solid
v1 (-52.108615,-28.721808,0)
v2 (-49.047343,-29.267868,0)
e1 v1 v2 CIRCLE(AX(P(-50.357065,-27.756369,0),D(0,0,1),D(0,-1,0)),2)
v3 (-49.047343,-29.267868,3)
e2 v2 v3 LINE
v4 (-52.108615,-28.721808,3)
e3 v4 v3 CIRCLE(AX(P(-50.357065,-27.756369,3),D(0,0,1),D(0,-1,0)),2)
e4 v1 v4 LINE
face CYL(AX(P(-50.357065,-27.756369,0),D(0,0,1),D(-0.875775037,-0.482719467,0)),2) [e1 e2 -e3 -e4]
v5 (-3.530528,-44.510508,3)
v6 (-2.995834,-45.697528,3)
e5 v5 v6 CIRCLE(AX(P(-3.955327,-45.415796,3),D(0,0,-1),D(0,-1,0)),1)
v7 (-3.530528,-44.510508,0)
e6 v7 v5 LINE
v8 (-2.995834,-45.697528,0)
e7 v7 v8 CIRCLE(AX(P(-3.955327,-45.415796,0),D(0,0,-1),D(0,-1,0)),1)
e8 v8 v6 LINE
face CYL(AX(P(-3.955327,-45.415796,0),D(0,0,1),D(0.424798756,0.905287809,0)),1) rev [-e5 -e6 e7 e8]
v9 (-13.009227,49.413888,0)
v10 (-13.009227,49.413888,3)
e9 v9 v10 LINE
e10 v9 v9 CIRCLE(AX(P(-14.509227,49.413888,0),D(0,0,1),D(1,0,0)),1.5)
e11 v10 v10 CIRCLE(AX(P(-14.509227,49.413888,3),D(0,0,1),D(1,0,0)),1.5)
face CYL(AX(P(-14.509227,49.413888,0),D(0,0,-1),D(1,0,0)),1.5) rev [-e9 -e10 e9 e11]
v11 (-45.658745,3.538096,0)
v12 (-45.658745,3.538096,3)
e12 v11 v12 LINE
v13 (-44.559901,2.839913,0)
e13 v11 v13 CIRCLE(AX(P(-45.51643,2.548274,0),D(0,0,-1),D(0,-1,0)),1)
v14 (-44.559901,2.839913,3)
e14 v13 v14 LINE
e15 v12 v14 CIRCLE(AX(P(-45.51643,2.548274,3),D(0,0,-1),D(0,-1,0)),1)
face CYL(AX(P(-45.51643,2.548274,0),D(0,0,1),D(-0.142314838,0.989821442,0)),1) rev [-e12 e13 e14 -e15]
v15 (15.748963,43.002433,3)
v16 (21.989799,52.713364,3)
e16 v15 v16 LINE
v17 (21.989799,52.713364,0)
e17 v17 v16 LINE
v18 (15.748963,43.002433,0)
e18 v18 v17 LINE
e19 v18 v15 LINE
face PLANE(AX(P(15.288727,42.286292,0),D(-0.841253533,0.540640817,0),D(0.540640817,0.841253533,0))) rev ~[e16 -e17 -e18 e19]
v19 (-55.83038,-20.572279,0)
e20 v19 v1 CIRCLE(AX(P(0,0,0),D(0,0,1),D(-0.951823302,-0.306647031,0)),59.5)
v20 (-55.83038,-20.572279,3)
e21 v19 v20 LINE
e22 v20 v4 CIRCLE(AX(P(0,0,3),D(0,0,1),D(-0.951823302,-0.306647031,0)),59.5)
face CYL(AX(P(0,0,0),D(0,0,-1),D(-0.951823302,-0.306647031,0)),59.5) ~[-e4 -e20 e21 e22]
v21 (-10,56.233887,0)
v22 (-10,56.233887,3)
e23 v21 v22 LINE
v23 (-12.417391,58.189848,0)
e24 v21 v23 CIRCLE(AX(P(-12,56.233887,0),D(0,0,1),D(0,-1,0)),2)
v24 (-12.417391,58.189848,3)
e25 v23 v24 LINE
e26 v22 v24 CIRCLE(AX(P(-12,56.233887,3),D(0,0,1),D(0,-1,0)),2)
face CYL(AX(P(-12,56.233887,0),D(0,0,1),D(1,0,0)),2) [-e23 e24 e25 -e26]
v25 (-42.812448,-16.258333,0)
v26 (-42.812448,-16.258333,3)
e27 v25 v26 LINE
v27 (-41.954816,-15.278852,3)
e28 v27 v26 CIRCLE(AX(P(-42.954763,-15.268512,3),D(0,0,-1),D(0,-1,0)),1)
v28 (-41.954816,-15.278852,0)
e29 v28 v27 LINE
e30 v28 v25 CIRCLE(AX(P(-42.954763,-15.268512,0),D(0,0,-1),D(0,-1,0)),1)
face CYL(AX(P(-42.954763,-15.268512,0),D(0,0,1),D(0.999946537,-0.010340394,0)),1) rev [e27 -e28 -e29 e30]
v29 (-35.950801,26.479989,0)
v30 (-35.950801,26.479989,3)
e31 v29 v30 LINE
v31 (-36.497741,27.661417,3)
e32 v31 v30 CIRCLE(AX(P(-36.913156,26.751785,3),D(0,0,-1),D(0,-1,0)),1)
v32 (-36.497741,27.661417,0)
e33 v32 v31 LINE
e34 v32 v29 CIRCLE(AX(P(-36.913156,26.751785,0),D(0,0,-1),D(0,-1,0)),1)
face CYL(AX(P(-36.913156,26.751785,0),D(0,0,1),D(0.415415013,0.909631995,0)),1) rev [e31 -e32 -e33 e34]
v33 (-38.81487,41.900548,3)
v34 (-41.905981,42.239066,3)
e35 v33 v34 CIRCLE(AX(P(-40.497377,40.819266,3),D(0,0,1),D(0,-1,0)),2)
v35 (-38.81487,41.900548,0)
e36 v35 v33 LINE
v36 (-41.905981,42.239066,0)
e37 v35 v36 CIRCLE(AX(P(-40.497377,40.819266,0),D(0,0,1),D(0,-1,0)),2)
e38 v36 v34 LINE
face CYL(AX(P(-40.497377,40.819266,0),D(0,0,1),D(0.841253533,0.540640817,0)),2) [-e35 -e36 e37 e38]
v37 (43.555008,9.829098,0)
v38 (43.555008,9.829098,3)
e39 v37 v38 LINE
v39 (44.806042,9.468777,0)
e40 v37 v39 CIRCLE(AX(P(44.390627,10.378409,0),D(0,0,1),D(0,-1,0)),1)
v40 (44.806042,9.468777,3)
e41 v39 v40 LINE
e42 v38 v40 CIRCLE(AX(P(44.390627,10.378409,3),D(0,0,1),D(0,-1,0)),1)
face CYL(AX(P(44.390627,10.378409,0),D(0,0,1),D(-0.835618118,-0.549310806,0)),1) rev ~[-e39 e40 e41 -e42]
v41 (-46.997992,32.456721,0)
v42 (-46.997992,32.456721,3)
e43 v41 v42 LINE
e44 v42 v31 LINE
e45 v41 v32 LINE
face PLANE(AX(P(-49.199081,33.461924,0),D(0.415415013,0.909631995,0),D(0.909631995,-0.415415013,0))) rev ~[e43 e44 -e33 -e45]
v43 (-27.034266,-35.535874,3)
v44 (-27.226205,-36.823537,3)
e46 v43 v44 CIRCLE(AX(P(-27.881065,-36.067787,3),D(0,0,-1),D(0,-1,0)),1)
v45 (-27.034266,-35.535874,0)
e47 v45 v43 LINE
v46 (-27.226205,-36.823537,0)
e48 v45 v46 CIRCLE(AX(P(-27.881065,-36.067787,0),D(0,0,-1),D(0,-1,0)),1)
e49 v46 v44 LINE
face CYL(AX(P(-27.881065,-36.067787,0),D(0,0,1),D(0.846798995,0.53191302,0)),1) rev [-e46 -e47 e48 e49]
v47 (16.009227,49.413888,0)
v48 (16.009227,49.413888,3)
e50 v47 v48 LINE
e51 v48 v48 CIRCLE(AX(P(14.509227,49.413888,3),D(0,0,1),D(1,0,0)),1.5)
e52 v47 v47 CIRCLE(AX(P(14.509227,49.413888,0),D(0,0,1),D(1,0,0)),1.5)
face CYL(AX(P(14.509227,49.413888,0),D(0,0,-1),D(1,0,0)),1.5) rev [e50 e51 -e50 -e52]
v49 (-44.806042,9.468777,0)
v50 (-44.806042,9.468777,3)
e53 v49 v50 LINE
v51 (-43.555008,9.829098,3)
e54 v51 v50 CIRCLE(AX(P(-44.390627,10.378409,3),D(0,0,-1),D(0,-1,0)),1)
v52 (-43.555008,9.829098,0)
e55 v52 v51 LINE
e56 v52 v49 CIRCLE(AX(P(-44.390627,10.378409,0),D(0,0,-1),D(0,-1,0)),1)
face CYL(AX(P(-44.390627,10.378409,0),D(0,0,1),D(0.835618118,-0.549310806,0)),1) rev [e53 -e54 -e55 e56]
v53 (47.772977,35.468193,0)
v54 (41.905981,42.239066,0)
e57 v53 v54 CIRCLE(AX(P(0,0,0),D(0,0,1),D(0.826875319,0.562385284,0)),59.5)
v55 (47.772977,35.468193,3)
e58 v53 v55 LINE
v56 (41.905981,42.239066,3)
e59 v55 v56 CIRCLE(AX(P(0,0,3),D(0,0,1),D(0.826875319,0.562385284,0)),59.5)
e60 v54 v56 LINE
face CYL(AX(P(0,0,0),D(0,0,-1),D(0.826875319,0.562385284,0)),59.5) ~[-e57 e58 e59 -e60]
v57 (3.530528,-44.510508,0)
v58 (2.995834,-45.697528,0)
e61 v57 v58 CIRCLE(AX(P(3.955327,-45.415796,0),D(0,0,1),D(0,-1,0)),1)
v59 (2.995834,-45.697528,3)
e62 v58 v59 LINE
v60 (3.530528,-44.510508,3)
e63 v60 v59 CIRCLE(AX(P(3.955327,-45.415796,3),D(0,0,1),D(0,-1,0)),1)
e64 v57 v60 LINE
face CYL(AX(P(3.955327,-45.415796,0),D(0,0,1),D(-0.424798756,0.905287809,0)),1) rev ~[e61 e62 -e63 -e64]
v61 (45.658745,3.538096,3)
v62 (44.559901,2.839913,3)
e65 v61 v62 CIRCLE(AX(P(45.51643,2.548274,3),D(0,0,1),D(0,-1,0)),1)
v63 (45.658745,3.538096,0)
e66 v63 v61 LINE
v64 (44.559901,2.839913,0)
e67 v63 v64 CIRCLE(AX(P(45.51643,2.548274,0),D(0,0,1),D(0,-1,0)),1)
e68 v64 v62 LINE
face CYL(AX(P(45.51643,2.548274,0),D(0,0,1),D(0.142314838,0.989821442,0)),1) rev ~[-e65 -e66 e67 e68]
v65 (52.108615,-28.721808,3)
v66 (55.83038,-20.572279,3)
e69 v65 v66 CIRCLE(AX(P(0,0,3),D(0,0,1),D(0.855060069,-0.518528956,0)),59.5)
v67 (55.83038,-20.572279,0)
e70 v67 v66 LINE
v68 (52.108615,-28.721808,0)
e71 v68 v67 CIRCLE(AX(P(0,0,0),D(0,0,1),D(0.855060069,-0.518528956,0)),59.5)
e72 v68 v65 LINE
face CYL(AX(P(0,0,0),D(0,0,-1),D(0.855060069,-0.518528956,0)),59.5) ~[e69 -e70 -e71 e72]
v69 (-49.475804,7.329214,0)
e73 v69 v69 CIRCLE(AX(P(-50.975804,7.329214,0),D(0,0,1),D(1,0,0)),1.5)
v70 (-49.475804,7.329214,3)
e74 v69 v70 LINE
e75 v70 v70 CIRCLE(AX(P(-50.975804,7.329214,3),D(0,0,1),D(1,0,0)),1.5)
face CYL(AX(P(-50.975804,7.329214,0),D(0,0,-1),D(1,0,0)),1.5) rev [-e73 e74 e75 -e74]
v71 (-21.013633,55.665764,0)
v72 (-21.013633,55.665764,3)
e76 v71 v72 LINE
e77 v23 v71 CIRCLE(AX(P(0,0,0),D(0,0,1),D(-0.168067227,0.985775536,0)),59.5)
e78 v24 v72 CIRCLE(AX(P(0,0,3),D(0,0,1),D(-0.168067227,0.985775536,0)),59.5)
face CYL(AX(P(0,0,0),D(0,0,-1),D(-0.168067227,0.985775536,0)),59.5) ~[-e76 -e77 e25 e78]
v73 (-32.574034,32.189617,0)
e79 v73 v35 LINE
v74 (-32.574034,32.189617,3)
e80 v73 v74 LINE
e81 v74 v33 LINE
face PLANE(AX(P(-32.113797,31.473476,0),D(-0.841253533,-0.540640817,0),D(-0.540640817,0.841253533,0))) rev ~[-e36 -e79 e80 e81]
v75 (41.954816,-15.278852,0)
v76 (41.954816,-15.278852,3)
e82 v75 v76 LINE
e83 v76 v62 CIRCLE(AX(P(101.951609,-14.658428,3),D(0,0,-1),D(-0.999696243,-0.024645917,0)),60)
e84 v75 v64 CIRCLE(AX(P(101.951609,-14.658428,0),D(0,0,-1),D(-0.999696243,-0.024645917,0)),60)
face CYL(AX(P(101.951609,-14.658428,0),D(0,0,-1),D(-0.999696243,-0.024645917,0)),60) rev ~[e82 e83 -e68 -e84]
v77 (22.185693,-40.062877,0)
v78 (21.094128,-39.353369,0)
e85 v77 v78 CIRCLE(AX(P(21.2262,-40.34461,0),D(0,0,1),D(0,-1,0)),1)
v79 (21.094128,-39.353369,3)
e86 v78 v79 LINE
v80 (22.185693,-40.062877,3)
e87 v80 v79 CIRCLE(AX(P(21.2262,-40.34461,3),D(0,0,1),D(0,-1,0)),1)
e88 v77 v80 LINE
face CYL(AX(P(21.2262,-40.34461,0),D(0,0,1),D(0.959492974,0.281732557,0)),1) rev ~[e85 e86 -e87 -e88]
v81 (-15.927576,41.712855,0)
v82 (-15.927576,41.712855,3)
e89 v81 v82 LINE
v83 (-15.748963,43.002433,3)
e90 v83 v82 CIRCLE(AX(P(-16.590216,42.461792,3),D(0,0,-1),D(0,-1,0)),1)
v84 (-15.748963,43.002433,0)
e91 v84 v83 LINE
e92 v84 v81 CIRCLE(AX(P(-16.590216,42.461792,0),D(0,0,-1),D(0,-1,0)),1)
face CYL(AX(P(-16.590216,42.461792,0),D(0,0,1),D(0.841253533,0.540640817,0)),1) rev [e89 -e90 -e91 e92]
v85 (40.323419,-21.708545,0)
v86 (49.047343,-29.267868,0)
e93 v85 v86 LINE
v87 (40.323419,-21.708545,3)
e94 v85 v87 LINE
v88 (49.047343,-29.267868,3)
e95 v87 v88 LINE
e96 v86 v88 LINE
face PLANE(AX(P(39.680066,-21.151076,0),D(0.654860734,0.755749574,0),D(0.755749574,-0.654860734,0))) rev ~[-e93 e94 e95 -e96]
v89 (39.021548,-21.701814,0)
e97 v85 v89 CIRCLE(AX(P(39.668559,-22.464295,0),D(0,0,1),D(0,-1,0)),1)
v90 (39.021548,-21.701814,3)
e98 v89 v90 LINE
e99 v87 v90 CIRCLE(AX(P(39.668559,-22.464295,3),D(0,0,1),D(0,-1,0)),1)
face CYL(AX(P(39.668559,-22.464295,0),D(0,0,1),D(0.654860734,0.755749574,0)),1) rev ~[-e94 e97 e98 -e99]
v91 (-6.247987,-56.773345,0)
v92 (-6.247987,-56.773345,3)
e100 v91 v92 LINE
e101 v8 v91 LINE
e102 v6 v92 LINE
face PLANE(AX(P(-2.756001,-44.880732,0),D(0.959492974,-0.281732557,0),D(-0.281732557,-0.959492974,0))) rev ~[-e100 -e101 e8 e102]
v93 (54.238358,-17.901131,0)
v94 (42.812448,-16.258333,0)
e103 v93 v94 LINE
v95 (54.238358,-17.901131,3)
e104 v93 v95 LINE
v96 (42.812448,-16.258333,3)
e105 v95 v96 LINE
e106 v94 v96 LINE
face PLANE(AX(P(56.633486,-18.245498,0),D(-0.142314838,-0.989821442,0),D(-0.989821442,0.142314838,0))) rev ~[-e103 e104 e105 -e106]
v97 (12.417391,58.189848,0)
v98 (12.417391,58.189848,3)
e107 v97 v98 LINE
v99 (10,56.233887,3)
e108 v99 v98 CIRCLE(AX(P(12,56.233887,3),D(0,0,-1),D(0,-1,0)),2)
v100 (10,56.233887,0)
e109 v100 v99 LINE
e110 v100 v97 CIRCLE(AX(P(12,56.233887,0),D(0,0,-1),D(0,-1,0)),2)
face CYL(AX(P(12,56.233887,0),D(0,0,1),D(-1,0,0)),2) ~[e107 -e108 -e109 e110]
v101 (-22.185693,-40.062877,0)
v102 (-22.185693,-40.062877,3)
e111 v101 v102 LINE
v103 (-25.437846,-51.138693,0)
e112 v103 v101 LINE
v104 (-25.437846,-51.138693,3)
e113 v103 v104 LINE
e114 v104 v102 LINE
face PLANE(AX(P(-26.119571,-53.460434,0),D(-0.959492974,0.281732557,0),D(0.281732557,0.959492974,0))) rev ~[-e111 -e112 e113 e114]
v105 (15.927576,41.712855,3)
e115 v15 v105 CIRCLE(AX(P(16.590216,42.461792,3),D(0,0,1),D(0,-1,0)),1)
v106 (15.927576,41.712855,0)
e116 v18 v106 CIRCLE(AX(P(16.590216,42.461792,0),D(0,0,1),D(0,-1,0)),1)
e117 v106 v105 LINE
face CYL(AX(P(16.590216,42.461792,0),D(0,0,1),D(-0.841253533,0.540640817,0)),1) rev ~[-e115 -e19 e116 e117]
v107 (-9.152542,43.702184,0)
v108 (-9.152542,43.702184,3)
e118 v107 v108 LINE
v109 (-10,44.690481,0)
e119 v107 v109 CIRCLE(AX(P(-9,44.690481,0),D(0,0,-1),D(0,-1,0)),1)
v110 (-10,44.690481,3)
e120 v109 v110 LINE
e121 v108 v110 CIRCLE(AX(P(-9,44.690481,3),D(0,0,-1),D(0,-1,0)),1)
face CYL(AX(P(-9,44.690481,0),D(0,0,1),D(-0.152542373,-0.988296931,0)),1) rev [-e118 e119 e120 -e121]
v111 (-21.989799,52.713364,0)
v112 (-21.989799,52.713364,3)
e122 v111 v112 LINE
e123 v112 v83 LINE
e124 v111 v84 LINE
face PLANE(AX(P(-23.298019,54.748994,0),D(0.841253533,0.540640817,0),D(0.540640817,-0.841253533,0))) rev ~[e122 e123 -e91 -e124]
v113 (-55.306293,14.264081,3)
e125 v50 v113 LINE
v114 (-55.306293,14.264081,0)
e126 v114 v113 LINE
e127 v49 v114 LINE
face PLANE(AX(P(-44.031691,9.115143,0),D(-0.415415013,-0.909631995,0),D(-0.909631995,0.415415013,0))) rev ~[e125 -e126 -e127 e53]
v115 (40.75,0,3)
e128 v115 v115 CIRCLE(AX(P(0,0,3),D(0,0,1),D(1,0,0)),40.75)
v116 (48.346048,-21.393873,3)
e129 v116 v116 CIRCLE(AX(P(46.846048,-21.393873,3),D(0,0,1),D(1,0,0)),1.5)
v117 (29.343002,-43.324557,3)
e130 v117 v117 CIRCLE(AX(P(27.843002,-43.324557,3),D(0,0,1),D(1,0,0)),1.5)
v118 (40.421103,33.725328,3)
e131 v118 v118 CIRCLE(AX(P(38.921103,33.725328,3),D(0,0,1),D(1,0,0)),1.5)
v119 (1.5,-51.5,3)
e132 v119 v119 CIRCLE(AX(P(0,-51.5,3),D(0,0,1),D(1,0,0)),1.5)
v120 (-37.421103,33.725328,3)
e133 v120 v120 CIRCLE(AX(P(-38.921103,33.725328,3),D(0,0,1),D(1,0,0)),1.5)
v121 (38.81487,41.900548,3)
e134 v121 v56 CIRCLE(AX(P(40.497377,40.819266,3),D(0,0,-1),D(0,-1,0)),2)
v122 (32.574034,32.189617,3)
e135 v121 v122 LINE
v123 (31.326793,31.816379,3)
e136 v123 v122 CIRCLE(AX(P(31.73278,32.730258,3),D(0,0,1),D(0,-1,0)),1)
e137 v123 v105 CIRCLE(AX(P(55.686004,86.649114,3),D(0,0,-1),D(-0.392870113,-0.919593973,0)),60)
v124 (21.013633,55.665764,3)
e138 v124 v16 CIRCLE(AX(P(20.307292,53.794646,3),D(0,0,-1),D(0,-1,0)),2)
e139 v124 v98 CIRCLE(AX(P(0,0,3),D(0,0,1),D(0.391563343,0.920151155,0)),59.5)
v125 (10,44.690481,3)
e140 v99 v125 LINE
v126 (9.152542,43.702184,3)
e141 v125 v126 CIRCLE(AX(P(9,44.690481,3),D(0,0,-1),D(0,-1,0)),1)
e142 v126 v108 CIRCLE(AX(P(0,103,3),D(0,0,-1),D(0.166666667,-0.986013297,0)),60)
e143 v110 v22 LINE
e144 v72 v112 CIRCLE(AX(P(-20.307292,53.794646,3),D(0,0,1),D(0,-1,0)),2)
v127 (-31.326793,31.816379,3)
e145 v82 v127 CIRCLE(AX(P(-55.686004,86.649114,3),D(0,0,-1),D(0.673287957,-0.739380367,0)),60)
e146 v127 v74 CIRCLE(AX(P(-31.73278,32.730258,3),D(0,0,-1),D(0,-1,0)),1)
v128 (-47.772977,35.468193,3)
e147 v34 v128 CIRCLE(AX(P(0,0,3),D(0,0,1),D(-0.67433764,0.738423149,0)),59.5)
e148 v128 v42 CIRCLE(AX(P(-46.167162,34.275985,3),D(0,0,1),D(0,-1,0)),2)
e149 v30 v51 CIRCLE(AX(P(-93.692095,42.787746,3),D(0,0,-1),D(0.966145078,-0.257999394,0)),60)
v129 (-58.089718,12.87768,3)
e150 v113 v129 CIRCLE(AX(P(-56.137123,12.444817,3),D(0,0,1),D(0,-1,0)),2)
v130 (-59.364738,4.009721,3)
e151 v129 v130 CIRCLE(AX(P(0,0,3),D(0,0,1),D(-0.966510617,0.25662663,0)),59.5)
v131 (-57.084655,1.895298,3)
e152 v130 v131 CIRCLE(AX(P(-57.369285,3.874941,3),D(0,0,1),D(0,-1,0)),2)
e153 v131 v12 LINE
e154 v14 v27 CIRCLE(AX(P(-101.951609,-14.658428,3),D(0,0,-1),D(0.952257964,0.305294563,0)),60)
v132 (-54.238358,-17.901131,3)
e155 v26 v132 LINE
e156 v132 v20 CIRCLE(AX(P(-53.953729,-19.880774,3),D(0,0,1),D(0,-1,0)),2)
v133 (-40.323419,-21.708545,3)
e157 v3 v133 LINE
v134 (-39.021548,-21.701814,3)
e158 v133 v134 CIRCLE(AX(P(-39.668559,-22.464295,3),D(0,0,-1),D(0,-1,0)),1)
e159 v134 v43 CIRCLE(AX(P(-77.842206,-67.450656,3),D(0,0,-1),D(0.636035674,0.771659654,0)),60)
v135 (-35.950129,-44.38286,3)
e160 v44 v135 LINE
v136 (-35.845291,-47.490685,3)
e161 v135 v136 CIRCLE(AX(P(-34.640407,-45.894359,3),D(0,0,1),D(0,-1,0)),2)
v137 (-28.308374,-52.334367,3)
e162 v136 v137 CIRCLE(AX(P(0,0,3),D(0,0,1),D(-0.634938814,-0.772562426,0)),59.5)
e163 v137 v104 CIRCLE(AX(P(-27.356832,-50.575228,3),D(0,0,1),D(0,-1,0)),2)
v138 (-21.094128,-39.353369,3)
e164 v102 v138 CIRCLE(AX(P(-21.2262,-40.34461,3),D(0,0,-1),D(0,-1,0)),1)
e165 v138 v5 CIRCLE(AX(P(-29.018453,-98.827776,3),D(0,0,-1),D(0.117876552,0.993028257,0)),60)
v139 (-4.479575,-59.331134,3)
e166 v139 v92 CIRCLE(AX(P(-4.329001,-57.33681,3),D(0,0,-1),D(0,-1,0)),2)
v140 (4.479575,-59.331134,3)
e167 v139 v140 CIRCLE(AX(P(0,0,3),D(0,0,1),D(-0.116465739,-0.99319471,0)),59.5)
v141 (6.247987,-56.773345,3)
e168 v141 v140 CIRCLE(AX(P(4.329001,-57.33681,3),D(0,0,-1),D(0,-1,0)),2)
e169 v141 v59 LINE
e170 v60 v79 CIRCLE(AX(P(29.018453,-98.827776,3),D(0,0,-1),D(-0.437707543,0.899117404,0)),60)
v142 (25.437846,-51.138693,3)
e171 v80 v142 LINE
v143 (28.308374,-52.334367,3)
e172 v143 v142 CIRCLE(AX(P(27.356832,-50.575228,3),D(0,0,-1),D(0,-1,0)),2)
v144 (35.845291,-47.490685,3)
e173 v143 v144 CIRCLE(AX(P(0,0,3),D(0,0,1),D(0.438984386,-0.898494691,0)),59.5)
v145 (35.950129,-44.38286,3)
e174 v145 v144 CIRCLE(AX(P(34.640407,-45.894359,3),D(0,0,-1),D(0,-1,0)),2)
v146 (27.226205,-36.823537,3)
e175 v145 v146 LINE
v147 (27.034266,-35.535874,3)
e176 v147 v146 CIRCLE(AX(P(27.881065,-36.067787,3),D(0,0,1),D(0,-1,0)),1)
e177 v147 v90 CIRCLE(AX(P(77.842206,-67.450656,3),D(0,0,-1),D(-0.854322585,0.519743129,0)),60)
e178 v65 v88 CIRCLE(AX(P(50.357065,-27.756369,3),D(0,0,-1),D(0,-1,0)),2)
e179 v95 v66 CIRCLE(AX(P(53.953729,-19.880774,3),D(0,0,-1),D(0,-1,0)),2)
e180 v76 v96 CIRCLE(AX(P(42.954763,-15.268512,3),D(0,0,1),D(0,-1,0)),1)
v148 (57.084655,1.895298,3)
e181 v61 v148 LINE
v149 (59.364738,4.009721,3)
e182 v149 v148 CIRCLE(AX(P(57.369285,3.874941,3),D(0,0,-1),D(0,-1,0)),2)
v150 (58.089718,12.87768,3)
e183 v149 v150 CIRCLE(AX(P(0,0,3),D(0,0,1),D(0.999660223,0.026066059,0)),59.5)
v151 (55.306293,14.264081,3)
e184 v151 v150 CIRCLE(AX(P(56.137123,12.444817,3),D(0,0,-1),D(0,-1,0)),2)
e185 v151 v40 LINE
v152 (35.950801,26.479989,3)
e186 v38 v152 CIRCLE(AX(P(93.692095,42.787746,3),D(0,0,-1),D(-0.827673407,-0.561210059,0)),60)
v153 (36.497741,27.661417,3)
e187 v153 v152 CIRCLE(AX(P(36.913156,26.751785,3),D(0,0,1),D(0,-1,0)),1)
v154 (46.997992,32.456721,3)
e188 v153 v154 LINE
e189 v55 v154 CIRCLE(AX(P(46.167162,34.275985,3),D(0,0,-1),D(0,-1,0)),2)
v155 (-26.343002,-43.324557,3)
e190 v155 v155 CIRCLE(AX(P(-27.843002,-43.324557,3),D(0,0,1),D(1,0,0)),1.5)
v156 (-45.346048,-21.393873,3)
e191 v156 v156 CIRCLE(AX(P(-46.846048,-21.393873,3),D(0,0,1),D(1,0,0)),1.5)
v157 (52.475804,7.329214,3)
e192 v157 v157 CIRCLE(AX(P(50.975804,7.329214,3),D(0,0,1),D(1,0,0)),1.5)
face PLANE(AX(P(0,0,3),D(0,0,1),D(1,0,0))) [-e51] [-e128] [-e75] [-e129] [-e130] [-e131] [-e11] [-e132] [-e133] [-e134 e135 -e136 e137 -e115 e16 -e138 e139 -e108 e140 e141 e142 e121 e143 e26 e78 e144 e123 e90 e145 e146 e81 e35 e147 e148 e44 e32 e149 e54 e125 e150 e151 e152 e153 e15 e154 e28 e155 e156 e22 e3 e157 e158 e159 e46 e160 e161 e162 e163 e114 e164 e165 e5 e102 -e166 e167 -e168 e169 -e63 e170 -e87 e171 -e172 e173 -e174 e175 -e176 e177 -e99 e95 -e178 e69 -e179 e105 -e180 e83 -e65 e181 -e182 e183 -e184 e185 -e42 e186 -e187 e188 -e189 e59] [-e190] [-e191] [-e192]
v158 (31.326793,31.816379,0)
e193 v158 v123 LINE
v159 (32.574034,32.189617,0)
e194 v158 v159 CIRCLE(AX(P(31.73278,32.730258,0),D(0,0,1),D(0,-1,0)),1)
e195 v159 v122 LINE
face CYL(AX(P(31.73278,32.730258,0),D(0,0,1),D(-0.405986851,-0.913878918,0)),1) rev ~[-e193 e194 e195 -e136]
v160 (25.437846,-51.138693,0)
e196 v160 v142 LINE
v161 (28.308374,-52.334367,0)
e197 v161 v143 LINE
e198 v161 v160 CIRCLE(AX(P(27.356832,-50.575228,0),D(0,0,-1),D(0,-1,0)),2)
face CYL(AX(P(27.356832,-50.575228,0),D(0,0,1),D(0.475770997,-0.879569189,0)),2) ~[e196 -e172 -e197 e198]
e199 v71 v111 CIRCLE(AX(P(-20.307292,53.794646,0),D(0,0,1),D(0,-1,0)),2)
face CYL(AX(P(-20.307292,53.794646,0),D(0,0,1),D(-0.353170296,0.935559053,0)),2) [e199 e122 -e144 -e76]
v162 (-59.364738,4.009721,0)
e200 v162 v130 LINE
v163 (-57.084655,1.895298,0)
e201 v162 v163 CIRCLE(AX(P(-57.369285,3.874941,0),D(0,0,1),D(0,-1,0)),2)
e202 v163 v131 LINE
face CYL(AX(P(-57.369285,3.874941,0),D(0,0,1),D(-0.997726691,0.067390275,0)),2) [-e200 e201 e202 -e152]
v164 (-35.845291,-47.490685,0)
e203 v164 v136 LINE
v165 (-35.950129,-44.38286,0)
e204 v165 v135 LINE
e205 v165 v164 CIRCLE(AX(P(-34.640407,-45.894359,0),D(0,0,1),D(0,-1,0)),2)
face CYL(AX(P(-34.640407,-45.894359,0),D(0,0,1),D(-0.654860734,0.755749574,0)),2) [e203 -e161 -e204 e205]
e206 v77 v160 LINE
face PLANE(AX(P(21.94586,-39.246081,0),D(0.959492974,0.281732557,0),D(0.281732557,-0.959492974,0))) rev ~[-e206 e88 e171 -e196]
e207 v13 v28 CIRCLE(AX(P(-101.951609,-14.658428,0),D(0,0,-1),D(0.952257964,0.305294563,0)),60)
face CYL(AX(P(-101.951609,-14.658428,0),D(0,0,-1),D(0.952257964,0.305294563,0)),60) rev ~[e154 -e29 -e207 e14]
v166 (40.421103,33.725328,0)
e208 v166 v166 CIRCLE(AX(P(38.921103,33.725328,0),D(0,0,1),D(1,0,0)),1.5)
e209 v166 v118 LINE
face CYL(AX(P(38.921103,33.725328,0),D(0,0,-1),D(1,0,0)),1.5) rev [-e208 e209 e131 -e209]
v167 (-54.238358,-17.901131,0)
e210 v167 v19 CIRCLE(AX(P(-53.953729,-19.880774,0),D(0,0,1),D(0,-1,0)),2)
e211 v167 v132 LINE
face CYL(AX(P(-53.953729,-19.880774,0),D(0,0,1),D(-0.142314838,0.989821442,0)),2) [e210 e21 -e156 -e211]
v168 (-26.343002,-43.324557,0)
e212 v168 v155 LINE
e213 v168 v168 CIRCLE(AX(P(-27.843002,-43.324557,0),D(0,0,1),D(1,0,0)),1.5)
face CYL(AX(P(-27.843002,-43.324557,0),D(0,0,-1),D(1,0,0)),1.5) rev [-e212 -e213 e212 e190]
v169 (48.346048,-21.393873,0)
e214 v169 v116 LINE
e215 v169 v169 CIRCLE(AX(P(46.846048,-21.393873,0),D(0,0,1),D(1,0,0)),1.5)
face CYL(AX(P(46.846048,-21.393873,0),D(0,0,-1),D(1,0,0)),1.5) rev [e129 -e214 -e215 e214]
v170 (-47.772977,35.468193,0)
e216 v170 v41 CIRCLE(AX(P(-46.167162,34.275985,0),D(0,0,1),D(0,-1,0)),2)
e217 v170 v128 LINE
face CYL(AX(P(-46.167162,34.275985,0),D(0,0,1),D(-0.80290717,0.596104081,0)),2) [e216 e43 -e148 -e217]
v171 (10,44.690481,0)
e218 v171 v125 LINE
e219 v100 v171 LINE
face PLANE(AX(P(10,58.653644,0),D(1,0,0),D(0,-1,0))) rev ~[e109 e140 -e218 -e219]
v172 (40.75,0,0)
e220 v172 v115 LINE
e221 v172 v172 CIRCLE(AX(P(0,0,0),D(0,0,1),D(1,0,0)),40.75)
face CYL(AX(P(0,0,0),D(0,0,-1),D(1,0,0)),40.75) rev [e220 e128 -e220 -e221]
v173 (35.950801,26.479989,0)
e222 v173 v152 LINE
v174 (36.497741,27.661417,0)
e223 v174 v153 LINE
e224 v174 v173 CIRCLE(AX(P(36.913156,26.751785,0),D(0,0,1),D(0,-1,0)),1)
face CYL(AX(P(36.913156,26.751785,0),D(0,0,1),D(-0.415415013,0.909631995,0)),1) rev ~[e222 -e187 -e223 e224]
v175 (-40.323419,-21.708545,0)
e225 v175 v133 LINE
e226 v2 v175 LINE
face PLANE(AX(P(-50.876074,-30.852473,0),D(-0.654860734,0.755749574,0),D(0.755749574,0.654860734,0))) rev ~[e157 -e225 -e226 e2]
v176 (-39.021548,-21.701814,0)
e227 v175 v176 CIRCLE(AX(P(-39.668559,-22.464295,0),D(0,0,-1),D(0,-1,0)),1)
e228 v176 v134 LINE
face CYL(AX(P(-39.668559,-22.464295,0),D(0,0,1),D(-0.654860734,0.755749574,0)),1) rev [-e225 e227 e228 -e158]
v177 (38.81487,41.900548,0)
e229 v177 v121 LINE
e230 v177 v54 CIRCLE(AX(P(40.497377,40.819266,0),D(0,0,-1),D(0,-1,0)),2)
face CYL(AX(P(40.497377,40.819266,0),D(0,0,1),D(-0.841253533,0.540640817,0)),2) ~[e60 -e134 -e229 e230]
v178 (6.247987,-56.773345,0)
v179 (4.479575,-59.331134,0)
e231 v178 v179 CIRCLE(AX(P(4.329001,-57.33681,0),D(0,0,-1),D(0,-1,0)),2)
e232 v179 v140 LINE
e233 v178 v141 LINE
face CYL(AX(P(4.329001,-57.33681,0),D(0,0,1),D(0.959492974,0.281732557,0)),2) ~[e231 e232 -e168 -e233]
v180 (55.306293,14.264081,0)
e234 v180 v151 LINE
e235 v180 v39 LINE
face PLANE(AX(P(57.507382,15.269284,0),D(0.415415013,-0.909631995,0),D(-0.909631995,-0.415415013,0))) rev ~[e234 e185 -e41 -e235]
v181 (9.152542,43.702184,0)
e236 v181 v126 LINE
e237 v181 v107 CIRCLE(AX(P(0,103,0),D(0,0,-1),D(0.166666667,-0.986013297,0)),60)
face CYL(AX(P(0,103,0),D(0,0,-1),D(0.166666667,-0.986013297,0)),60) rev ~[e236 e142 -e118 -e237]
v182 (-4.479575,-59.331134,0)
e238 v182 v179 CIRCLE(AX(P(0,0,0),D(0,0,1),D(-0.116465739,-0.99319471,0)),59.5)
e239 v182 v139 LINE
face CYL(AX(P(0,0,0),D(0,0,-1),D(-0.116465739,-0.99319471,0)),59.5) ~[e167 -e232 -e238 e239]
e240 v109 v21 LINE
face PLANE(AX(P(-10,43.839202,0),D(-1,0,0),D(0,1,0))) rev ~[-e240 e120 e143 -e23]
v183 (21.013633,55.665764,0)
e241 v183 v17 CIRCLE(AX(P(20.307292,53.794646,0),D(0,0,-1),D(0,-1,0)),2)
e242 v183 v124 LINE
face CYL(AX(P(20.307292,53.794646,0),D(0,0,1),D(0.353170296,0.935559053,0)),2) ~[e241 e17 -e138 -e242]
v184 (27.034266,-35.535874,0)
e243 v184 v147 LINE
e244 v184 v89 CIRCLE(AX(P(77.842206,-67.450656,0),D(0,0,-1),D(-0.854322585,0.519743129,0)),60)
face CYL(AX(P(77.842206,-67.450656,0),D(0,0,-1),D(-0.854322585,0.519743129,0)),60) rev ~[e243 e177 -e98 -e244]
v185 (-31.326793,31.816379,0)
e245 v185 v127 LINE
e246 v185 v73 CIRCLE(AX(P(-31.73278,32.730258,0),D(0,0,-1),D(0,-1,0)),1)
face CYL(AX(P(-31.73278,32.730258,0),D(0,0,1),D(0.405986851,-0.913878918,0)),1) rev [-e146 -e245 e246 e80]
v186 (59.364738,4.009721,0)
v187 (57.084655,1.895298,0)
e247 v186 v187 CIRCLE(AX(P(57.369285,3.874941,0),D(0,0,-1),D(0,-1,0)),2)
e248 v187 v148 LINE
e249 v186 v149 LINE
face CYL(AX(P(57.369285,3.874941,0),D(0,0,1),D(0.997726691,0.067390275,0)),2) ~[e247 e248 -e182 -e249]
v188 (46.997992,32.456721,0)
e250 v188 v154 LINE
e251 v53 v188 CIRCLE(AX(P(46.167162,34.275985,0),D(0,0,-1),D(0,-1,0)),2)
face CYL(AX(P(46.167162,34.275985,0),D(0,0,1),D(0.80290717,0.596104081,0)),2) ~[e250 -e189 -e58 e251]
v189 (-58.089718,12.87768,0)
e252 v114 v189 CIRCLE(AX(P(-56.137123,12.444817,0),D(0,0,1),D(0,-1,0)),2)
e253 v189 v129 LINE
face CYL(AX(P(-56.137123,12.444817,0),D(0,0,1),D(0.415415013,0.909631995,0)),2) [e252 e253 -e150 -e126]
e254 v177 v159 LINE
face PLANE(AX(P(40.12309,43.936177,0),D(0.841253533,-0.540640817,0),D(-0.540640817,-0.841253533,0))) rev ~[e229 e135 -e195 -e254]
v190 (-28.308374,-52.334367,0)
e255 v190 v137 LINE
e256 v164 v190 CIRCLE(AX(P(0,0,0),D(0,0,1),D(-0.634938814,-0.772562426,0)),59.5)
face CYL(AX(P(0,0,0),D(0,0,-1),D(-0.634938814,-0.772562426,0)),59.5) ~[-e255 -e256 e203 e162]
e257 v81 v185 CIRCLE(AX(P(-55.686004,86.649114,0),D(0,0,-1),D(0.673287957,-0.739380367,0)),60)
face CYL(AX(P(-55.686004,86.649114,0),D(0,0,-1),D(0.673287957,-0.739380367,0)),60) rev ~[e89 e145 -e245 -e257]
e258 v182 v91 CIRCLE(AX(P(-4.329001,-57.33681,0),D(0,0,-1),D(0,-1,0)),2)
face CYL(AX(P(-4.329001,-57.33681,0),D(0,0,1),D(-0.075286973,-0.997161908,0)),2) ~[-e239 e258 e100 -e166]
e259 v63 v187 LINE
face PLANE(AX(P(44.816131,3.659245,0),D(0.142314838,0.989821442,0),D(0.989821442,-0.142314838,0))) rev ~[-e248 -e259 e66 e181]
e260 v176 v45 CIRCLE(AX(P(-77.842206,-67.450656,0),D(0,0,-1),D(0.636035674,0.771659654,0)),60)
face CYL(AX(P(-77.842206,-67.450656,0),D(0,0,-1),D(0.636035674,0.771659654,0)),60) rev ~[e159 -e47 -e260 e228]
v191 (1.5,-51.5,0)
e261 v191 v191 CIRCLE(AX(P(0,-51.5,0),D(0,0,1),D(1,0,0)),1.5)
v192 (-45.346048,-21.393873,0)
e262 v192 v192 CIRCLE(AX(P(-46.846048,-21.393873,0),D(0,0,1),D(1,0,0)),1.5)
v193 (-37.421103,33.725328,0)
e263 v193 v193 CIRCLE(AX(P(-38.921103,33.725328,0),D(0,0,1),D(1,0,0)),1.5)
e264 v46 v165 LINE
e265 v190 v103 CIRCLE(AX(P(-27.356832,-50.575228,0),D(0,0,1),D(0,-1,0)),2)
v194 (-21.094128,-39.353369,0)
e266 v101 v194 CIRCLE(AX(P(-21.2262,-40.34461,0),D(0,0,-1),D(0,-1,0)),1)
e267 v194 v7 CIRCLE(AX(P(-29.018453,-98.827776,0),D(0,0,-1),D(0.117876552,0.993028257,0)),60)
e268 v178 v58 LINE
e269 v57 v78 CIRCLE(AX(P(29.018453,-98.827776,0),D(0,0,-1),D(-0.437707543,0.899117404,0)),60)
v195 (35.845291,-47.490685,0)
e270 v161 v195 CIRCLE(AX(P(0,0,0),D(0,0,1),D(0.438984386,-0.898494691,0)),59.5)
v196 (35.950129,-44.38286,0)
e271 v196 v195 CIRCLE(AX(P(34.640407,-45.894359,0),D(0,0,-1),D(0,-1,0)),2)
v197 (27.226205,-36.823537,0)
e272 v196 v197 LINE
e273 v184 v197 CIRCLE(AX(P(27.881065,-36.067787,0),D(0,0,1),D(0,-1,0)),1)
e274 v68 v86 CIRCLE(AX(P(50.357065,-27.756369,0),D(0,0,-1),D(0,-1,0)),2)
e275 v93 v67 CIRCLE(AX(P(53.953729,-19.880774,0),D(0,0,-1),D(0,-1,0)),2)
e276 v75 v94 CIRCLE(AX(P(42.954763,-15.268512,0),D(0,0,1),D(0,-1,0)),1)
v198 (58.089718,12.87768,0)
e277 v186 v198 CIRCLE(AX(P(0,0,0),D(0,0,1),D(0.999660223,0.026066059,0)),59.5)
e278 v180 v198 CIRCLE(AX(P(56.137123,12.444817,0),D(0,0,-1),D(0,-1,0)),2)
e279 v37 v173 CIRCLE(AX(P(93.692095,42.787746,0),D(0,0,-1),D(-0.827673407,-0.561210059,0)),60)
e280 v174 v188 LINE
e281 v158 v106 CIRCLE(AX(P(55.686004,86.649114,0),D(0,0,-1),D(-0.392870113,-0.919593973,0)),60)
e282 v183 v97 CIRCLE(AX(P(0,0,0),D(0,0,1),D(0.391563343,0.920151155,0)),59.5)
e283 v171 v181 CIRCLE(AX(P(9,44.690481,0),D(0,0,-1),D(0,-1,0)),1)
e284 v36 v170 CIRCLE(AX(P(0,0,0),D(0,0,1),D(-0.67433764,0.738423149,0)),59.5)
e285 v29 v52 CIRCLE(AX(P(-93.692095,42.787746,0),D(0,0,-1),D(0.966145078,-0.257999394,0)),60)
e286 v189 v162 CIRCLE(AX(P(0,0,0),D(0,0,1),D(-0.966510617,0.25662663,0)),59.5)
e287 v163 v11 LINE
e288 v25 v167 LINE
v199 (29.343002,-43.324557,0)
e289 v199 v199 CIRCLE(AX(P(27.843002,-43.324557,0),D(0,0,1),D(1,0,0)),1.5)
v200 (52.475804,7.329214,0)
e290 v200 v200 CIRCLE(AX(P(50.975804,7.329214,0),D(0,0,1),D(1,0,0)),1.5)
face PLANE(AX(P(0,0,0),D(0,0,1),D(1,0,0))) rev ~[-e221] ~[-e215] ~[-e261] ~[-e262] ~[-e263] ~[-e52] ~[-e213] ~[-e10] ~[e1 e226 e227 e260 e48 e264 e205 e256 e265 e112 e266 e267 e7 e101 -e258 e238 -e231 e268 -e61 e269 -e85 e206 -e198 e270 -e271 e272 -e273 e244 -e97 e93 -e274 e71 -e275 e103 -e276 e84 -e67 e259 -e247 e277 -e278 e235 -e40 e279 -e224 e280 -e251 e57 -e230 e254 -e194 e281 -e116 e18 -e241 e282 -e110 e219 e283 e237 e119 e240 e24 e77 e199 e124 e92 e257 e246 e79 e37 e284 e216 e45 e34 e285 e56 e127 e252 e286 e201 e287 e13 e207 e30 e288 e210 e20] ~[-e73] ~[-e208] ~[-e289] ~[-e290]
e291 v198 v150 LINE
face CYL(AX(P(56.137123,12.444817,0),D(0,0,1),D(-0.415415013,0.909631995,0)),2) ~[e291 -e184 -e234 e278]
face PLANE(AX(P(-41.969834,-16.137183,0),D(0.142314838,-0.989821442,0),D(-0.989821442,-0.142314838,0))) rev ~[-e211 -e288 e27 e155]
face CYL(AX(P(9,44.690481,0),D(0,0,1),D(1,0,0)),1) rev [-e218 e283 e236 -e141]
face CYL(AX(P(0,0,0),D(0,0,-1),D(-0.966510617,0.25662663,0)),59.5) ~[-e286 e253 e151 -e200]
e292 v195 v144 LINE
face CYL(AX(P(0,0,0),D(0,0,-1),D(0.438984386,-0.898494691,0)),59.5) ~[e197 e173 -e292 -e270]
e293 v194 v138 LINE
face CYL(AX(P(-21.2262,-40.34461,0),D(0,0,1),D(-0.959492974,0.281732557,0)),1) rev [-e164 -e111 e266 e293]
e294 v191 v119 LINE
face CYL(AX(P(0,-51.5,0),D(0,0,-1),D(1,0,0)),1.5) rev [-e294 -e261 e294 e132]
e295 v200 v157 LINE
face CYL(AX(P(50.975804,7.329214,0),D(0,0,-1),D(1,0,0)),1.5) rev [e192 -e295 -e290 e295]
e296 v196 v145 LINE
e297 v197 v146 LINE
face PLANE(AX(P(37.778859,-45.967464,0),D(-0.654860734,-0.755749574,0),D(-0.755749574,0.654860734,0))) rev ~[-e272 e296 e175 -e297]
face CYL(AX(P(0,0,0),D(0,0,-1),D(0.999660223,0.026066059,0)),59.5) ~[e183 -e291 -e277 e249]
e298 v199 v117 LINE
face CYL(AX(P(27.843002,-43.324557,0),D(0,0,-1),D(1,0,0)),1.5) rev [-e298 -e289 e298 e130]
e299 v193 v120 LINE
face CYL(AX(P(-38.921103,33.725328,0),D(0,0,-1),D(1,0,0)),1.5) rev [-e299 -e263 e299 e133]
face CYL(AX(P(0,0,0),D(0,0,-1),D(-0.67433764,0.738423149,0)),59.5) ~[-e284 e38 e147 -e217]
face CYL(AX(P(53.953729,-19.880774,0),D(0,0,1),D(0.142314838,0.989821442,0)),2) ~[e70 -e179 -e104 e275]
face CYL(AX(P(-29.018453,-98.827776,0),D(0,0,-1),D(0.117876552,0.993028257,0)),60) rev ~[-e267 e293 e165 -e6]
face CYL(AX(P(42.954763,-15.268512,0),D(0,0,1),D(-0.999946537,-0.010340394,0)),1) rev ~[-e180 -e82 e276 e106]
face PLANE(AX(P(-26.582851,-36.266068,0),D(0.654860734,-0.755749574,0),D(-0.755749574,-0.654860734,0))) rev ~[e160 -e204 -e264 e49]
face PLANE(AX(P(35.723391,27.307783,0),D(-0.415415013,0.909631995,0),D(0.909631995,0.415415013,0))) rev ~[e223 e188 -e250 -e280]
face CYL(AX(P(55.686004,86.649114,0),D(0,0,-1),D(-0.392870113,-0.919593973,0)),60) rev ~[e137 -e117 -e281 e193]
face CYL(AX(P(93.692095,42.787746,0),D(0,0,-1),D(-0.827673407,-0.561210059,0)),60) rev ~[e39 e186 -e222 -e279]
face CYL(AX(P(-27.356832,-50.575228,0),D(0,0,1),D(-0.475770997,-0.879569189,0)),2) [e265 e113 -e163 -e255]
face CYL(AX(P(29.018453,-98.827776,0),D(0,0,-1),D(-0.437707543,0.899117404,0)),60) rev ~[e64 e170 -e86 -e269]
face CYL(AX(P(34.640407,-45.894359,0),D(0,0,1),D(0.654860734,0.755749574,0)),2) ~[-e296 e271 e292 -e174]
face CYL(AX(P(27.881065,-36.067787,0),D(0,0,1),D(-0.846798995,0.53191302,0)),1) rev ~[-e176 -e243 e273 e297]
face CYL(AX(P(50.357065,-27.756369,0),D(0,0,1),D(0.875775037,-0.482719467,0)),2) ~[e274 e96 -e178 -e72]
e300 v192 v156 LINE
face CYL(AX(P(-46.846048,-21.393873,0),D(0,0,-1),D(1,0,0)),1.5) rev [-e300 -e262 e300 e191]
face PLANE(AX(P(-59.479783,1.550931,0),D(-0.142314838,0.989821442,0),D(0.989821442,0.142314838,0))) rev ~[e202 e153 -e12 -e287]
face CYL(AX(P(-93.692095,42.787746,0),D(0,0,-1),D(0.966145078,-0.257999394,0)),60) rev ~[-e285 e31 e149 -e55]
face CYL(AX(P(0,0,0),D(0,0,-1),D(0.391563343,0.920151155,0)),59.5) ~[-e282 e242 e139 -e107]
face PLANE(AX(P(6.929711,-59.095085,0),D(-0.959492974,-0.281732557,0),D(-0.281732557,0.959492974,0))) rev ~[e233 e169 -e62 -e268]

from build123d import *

# Parameters (mm, degrees)
SKETCH_2_R      = 40.75
SKETCH_2_R_2    = 1.5
EXTRUDE_1_DEPTH = 3
FILLET_1_R      = 1
FILLET_2_R      = 2


with BuildPart() as part:
    # 草图2 → 凸台-拉伸1 (new body)
    with BuildSketch(Plane.XY):
        with BuildLine():
            Line((10, 58.653644388), (10, 43.839202169))
            ThreePointArc((10, 43.839202169), (0, 43), (-10, 43.839202169))
            Line((-10, 43.839202169), (-10, 58.653644388))
            ThreePointArc((-10, 58.653644388), (-16.763087132, 57.08983193), (-23.29801892, 54.748993729))
            Line((-23.29801892, 54.748993729), (-15.288726769, 42.286291876))
            ThreePointArc((-15.288726769, 42.286291876), (-23.247555151, 36.173901912), (-32.113797426, 31.473475527))
            Line((-32.113797426, 31.473475527), (-40.123089577, 43.93617738))
            ThreePointArc((-40.123089577, 43.93617738), (-44.967099674, 38.96421367), (-49.199081449, 33.4619244))
            Line((-49.199081449, 33.4619244), (-35.723390814, 27.307782693))
            ThreePointArc((-35.723390814, 27.307782693), (-39.1141758, 17.862845559), (-44.031691074, 9.115142785))
            Line((-44.031691074, 9.115142785), (-57.50738171, 15.269284493))
            ThreePointArc((-57.50738171, 15.269284493), (-58.894375792, 8.467732877), (-59.479783242, 1.550930504))
            Line((-59.479783242, 1.550930504), (-44.816130685, 3.659245452))
            ThreePointArc((-44.816130685, 3.659245452), (-42.562322001, -6.119538046), (-41.969833919, -16.137183386))
            Line((-41.969833919, -16.137183386), (-56.633486477, -18.245498334))
            ThreePointArc((-56.633486477, -18.245498334), (-54.123103724, -24.717193274), (-50.87607412, -30.852472869))
            Line((-50.87607412, -30.852472869), (-39.680065719, -21.151076364))
            ThreePointArc((-39.680065719, -21.151076364), (-32.497231697, -28.15901156), (-26.58285104, -36.266067852))
            Line((-26.58285104, -36.266067852), (-37.778859441, -45.967464356))
            ThreePointArc((-37.778859441, -45.967464356), (-32.168128639, -50.054585203), (-26.119570938, -53.460434099))
            Line((-26.119570938, -53.460434099), (-21.945860253, -39.246080882))
            ThreePointArc((-21.945860253, -39.246080882), (-12.114499944, -41.258197865), (-2.756000781, -44.880732018))
            Line((-2.756000781, -44.880732018), (-6.929711465, -59.095085236))
            ThreePointArc((-6.929711465, -59.095085236), (0, -59.5), (6.929711465, -59.095085236))
            Line((6.929711465, -59.095085236), (2.756000781, -44.880732018))
            ThreePointArc((2.756000781, -44.880732018), (12.114499944, -41.258197865), (21.945860253, -39.246080882))
            Line((21.945860253, -39.246080882), (26.119570938, -53.460434099))
            ThreePointArc((26.119570938, -53.460434099), (32.168128639, -50.054585203), (37.778859441, -45.967464356))
            Line((37.778859441, -45.967464356), (26.58285104, -36.266067852))
            ThreePointArc((26.58285104, -36.266067852), (32.497231697, -28.15901156), (39.680065719, -21.151076364))
            Line((39.680065719, -21.151076364), (50.87607412, -30.852472869))
            ThreePointArc((50.87607412, -30.852472869), (54.123103724, -24.717193274), (56.633486477, -18.245498334))
            Line((56.633486477, -18.245498334), (41.969833919, -16.137183386))
            ThreePointArc((41.969833919, -16.137183386), (42.562322001, -6.119538046), (44.816130685, 3.659245452))
            Line((44.816130685, 3.659245452), (59.479783242, 1.550930504))
            ThreePointArc((59.479783242, 1.550930504), (58.894375792, 8.467732877), (57.50738171, 15.269284493))
            Line((57.50738171, 15.269284493), (44.031691074, 9.115142785))
            ThreePointArc((44.031691074, 9.115142785), (39.1141758, 17.862845559), (35.723390814, 27.307782693))
            Line((35.723390814, 27.307782693), (49.199081449, 33.4619244))
            ThreePointArc((49.199081449, 33.4619244), (44.967099674, 38.96421367), (40.123089577, 43.93617738))
            Line((40.123089577, 43.93617738), (32.113797426, 31.473475527))
            ThreePointArc((32.113797426, 31.473475527), (23.247555151, 36.173901912), (15.288726769, 42.286291876))
            Line((15.288726769, 42.286291876), (23.29801892, 54.748993729))
            ThreePointArc((23.29801892, 54.748993729), (16.763087132, 57.08983193), (10, 58.653644388))
        make_face()
        Circle(SKETCH_2_R, mode=Mode.SUBTRACT)
        with Locations((0, -51.5)):
            Circle(SKETCH_2_R_2, mode=Mode.SUBTRACT)
        with Locations((-27.843002099, -43.324556941)):
            Circle(SKETCH_2_R_2, mode=Mode.SUBTRACT)
        with Locations((-46.846047761, -21.39387317)):
            Circle(SKETCH_2_R_2, mode=Mode.SUBTRACT)
        with Locations((-50.975804257, 7.329214171)):
            Circle(SKETCH_2_R_2, mode=Mode.SUBTRACT)
        with Locations((-38.921103079, 33.725327798)):
            Circle(SKETCH_2_R_2, mode=Mode.SUBTRACT)
        with Locations((-14.509226677, 49.413888141)):
            Circle(SKETCH_2_R_2, mode=Mode.SUBTRACT)
        with Locations((14.509226677, 49.413888141)):
            Circle(SKETCH_2_R_2, mode=Mode.SUBTRACT)
        with Locations((38.921103079, 33.725327798)):
            Circle(SKETCH_2_R_2, mode=Mode.SUBTRACT)
        with Locations((50.975804257, 7.329214171)):
            Circle(SKETCH_2_R_2, mode=Mode.SUBTRACT)
        with Locations((46.846047761, -21.39387317)):
            Circle(SKETCH_2_R_2, mode=Mode.SUBTRACT)
        with Locations((27.843002099, -43.324556941)):
            Circle(SKETCH_2_R_2, mode=Mode.SUBTRACT)
    extrude(amount=EXTRUDE_1_DEPTH)

    # 圆角1
    fillet_1_edges = [part.edges().sort_by_distance(p)[0] for p in [
        (15.288726769, 42.286291876, 1.5),
        (32.113797426, 31.473475527, 1.5),
        (35.723390814, 27.307782693, 1.5),
        (44.031691074, 9.115142785, 1.5),
        (44.816130685, 3.659245452, 1.5),
        (41.969833919, -16.137183386, 1.5),
        (39.680065719, -21.151076364, 1.5),
        (26.58285104, -36.266067852, 1.5),
        (21.945860253, -39.246080882, 1.5),
        (2.756000781, -44.880732018, 1.5),
        (-2.756000781, -44.880732018, 1.5),
        (-21.945860253, -39.246080882, 1.5),
        (-26.58285104, -36.266067852, 1.5),
        (-39.680065719, -21.151076364, 1.5),
        (-41.969833919, -16.137183386, 1.5),
        (-44.816130685, 3.659245452, 1.5),
        (-44.031691074, 9.115142785, 1.5),
        (-35.723390814, 27.307782693, 1.5),
        (-32.113797426, 31.473475527, 1.5),
        (-15.288726769, 42.286291876, 1.5),
        (-10, 43.839202169, 1.5),
        (10, 43.839202169, 1.5),
    ]]
    fillet(fillet_1_edges, radius=FILLET_1_R)

    # 圆角2
    fillet_2_edges = [part.edges().sort_by_distance(p)[0] for p in [
        (23.29801892, 54.748993729, 1.5),
        (40.123089577, 43.93617738, 1.5),
        (49.199081449, 33.4619244, 1.5),
        (57.50738171, 15.269284493, 1.5),
        (59.479783242, 1.550930504, 1.5),
        (56.633486477, -18.245498334, 1.5),
        (50.87607412, -30.852472869, 1.5),
        (37.778859441, -45.967464356, 1.5),
        (26.119570938, -53.460434099, 1.5),
        (6.929711465, -59.095085236, 1.5),
        (-6.929711465, -59.095085236, 1.5),
        (-26.119570938, -53.460434099, 1.5),
        (-37.778859441, -45.967464356, 1.5),
        (-50.87607412, -30.852472869, 1.5),
        (-56.633486477, -18.245498334, 1.5),
        (-59.479783242, 1.550930504, 1.5),
        (-57.50738171, 15.269284493, 1.5),
        (-49.199081449, 33.4619244, 1.5),
        (-40.123089577, 43.93617738, 1.5),
        (-23.29801892, 54.748993729, 1.5),
        (-10, 58.653644388, 1.5),
        (10, 58.653644388, 1.5),
    ]]
    fillet(fillet_2_edges, radius=FILLET_2_R)


solid = part.part
